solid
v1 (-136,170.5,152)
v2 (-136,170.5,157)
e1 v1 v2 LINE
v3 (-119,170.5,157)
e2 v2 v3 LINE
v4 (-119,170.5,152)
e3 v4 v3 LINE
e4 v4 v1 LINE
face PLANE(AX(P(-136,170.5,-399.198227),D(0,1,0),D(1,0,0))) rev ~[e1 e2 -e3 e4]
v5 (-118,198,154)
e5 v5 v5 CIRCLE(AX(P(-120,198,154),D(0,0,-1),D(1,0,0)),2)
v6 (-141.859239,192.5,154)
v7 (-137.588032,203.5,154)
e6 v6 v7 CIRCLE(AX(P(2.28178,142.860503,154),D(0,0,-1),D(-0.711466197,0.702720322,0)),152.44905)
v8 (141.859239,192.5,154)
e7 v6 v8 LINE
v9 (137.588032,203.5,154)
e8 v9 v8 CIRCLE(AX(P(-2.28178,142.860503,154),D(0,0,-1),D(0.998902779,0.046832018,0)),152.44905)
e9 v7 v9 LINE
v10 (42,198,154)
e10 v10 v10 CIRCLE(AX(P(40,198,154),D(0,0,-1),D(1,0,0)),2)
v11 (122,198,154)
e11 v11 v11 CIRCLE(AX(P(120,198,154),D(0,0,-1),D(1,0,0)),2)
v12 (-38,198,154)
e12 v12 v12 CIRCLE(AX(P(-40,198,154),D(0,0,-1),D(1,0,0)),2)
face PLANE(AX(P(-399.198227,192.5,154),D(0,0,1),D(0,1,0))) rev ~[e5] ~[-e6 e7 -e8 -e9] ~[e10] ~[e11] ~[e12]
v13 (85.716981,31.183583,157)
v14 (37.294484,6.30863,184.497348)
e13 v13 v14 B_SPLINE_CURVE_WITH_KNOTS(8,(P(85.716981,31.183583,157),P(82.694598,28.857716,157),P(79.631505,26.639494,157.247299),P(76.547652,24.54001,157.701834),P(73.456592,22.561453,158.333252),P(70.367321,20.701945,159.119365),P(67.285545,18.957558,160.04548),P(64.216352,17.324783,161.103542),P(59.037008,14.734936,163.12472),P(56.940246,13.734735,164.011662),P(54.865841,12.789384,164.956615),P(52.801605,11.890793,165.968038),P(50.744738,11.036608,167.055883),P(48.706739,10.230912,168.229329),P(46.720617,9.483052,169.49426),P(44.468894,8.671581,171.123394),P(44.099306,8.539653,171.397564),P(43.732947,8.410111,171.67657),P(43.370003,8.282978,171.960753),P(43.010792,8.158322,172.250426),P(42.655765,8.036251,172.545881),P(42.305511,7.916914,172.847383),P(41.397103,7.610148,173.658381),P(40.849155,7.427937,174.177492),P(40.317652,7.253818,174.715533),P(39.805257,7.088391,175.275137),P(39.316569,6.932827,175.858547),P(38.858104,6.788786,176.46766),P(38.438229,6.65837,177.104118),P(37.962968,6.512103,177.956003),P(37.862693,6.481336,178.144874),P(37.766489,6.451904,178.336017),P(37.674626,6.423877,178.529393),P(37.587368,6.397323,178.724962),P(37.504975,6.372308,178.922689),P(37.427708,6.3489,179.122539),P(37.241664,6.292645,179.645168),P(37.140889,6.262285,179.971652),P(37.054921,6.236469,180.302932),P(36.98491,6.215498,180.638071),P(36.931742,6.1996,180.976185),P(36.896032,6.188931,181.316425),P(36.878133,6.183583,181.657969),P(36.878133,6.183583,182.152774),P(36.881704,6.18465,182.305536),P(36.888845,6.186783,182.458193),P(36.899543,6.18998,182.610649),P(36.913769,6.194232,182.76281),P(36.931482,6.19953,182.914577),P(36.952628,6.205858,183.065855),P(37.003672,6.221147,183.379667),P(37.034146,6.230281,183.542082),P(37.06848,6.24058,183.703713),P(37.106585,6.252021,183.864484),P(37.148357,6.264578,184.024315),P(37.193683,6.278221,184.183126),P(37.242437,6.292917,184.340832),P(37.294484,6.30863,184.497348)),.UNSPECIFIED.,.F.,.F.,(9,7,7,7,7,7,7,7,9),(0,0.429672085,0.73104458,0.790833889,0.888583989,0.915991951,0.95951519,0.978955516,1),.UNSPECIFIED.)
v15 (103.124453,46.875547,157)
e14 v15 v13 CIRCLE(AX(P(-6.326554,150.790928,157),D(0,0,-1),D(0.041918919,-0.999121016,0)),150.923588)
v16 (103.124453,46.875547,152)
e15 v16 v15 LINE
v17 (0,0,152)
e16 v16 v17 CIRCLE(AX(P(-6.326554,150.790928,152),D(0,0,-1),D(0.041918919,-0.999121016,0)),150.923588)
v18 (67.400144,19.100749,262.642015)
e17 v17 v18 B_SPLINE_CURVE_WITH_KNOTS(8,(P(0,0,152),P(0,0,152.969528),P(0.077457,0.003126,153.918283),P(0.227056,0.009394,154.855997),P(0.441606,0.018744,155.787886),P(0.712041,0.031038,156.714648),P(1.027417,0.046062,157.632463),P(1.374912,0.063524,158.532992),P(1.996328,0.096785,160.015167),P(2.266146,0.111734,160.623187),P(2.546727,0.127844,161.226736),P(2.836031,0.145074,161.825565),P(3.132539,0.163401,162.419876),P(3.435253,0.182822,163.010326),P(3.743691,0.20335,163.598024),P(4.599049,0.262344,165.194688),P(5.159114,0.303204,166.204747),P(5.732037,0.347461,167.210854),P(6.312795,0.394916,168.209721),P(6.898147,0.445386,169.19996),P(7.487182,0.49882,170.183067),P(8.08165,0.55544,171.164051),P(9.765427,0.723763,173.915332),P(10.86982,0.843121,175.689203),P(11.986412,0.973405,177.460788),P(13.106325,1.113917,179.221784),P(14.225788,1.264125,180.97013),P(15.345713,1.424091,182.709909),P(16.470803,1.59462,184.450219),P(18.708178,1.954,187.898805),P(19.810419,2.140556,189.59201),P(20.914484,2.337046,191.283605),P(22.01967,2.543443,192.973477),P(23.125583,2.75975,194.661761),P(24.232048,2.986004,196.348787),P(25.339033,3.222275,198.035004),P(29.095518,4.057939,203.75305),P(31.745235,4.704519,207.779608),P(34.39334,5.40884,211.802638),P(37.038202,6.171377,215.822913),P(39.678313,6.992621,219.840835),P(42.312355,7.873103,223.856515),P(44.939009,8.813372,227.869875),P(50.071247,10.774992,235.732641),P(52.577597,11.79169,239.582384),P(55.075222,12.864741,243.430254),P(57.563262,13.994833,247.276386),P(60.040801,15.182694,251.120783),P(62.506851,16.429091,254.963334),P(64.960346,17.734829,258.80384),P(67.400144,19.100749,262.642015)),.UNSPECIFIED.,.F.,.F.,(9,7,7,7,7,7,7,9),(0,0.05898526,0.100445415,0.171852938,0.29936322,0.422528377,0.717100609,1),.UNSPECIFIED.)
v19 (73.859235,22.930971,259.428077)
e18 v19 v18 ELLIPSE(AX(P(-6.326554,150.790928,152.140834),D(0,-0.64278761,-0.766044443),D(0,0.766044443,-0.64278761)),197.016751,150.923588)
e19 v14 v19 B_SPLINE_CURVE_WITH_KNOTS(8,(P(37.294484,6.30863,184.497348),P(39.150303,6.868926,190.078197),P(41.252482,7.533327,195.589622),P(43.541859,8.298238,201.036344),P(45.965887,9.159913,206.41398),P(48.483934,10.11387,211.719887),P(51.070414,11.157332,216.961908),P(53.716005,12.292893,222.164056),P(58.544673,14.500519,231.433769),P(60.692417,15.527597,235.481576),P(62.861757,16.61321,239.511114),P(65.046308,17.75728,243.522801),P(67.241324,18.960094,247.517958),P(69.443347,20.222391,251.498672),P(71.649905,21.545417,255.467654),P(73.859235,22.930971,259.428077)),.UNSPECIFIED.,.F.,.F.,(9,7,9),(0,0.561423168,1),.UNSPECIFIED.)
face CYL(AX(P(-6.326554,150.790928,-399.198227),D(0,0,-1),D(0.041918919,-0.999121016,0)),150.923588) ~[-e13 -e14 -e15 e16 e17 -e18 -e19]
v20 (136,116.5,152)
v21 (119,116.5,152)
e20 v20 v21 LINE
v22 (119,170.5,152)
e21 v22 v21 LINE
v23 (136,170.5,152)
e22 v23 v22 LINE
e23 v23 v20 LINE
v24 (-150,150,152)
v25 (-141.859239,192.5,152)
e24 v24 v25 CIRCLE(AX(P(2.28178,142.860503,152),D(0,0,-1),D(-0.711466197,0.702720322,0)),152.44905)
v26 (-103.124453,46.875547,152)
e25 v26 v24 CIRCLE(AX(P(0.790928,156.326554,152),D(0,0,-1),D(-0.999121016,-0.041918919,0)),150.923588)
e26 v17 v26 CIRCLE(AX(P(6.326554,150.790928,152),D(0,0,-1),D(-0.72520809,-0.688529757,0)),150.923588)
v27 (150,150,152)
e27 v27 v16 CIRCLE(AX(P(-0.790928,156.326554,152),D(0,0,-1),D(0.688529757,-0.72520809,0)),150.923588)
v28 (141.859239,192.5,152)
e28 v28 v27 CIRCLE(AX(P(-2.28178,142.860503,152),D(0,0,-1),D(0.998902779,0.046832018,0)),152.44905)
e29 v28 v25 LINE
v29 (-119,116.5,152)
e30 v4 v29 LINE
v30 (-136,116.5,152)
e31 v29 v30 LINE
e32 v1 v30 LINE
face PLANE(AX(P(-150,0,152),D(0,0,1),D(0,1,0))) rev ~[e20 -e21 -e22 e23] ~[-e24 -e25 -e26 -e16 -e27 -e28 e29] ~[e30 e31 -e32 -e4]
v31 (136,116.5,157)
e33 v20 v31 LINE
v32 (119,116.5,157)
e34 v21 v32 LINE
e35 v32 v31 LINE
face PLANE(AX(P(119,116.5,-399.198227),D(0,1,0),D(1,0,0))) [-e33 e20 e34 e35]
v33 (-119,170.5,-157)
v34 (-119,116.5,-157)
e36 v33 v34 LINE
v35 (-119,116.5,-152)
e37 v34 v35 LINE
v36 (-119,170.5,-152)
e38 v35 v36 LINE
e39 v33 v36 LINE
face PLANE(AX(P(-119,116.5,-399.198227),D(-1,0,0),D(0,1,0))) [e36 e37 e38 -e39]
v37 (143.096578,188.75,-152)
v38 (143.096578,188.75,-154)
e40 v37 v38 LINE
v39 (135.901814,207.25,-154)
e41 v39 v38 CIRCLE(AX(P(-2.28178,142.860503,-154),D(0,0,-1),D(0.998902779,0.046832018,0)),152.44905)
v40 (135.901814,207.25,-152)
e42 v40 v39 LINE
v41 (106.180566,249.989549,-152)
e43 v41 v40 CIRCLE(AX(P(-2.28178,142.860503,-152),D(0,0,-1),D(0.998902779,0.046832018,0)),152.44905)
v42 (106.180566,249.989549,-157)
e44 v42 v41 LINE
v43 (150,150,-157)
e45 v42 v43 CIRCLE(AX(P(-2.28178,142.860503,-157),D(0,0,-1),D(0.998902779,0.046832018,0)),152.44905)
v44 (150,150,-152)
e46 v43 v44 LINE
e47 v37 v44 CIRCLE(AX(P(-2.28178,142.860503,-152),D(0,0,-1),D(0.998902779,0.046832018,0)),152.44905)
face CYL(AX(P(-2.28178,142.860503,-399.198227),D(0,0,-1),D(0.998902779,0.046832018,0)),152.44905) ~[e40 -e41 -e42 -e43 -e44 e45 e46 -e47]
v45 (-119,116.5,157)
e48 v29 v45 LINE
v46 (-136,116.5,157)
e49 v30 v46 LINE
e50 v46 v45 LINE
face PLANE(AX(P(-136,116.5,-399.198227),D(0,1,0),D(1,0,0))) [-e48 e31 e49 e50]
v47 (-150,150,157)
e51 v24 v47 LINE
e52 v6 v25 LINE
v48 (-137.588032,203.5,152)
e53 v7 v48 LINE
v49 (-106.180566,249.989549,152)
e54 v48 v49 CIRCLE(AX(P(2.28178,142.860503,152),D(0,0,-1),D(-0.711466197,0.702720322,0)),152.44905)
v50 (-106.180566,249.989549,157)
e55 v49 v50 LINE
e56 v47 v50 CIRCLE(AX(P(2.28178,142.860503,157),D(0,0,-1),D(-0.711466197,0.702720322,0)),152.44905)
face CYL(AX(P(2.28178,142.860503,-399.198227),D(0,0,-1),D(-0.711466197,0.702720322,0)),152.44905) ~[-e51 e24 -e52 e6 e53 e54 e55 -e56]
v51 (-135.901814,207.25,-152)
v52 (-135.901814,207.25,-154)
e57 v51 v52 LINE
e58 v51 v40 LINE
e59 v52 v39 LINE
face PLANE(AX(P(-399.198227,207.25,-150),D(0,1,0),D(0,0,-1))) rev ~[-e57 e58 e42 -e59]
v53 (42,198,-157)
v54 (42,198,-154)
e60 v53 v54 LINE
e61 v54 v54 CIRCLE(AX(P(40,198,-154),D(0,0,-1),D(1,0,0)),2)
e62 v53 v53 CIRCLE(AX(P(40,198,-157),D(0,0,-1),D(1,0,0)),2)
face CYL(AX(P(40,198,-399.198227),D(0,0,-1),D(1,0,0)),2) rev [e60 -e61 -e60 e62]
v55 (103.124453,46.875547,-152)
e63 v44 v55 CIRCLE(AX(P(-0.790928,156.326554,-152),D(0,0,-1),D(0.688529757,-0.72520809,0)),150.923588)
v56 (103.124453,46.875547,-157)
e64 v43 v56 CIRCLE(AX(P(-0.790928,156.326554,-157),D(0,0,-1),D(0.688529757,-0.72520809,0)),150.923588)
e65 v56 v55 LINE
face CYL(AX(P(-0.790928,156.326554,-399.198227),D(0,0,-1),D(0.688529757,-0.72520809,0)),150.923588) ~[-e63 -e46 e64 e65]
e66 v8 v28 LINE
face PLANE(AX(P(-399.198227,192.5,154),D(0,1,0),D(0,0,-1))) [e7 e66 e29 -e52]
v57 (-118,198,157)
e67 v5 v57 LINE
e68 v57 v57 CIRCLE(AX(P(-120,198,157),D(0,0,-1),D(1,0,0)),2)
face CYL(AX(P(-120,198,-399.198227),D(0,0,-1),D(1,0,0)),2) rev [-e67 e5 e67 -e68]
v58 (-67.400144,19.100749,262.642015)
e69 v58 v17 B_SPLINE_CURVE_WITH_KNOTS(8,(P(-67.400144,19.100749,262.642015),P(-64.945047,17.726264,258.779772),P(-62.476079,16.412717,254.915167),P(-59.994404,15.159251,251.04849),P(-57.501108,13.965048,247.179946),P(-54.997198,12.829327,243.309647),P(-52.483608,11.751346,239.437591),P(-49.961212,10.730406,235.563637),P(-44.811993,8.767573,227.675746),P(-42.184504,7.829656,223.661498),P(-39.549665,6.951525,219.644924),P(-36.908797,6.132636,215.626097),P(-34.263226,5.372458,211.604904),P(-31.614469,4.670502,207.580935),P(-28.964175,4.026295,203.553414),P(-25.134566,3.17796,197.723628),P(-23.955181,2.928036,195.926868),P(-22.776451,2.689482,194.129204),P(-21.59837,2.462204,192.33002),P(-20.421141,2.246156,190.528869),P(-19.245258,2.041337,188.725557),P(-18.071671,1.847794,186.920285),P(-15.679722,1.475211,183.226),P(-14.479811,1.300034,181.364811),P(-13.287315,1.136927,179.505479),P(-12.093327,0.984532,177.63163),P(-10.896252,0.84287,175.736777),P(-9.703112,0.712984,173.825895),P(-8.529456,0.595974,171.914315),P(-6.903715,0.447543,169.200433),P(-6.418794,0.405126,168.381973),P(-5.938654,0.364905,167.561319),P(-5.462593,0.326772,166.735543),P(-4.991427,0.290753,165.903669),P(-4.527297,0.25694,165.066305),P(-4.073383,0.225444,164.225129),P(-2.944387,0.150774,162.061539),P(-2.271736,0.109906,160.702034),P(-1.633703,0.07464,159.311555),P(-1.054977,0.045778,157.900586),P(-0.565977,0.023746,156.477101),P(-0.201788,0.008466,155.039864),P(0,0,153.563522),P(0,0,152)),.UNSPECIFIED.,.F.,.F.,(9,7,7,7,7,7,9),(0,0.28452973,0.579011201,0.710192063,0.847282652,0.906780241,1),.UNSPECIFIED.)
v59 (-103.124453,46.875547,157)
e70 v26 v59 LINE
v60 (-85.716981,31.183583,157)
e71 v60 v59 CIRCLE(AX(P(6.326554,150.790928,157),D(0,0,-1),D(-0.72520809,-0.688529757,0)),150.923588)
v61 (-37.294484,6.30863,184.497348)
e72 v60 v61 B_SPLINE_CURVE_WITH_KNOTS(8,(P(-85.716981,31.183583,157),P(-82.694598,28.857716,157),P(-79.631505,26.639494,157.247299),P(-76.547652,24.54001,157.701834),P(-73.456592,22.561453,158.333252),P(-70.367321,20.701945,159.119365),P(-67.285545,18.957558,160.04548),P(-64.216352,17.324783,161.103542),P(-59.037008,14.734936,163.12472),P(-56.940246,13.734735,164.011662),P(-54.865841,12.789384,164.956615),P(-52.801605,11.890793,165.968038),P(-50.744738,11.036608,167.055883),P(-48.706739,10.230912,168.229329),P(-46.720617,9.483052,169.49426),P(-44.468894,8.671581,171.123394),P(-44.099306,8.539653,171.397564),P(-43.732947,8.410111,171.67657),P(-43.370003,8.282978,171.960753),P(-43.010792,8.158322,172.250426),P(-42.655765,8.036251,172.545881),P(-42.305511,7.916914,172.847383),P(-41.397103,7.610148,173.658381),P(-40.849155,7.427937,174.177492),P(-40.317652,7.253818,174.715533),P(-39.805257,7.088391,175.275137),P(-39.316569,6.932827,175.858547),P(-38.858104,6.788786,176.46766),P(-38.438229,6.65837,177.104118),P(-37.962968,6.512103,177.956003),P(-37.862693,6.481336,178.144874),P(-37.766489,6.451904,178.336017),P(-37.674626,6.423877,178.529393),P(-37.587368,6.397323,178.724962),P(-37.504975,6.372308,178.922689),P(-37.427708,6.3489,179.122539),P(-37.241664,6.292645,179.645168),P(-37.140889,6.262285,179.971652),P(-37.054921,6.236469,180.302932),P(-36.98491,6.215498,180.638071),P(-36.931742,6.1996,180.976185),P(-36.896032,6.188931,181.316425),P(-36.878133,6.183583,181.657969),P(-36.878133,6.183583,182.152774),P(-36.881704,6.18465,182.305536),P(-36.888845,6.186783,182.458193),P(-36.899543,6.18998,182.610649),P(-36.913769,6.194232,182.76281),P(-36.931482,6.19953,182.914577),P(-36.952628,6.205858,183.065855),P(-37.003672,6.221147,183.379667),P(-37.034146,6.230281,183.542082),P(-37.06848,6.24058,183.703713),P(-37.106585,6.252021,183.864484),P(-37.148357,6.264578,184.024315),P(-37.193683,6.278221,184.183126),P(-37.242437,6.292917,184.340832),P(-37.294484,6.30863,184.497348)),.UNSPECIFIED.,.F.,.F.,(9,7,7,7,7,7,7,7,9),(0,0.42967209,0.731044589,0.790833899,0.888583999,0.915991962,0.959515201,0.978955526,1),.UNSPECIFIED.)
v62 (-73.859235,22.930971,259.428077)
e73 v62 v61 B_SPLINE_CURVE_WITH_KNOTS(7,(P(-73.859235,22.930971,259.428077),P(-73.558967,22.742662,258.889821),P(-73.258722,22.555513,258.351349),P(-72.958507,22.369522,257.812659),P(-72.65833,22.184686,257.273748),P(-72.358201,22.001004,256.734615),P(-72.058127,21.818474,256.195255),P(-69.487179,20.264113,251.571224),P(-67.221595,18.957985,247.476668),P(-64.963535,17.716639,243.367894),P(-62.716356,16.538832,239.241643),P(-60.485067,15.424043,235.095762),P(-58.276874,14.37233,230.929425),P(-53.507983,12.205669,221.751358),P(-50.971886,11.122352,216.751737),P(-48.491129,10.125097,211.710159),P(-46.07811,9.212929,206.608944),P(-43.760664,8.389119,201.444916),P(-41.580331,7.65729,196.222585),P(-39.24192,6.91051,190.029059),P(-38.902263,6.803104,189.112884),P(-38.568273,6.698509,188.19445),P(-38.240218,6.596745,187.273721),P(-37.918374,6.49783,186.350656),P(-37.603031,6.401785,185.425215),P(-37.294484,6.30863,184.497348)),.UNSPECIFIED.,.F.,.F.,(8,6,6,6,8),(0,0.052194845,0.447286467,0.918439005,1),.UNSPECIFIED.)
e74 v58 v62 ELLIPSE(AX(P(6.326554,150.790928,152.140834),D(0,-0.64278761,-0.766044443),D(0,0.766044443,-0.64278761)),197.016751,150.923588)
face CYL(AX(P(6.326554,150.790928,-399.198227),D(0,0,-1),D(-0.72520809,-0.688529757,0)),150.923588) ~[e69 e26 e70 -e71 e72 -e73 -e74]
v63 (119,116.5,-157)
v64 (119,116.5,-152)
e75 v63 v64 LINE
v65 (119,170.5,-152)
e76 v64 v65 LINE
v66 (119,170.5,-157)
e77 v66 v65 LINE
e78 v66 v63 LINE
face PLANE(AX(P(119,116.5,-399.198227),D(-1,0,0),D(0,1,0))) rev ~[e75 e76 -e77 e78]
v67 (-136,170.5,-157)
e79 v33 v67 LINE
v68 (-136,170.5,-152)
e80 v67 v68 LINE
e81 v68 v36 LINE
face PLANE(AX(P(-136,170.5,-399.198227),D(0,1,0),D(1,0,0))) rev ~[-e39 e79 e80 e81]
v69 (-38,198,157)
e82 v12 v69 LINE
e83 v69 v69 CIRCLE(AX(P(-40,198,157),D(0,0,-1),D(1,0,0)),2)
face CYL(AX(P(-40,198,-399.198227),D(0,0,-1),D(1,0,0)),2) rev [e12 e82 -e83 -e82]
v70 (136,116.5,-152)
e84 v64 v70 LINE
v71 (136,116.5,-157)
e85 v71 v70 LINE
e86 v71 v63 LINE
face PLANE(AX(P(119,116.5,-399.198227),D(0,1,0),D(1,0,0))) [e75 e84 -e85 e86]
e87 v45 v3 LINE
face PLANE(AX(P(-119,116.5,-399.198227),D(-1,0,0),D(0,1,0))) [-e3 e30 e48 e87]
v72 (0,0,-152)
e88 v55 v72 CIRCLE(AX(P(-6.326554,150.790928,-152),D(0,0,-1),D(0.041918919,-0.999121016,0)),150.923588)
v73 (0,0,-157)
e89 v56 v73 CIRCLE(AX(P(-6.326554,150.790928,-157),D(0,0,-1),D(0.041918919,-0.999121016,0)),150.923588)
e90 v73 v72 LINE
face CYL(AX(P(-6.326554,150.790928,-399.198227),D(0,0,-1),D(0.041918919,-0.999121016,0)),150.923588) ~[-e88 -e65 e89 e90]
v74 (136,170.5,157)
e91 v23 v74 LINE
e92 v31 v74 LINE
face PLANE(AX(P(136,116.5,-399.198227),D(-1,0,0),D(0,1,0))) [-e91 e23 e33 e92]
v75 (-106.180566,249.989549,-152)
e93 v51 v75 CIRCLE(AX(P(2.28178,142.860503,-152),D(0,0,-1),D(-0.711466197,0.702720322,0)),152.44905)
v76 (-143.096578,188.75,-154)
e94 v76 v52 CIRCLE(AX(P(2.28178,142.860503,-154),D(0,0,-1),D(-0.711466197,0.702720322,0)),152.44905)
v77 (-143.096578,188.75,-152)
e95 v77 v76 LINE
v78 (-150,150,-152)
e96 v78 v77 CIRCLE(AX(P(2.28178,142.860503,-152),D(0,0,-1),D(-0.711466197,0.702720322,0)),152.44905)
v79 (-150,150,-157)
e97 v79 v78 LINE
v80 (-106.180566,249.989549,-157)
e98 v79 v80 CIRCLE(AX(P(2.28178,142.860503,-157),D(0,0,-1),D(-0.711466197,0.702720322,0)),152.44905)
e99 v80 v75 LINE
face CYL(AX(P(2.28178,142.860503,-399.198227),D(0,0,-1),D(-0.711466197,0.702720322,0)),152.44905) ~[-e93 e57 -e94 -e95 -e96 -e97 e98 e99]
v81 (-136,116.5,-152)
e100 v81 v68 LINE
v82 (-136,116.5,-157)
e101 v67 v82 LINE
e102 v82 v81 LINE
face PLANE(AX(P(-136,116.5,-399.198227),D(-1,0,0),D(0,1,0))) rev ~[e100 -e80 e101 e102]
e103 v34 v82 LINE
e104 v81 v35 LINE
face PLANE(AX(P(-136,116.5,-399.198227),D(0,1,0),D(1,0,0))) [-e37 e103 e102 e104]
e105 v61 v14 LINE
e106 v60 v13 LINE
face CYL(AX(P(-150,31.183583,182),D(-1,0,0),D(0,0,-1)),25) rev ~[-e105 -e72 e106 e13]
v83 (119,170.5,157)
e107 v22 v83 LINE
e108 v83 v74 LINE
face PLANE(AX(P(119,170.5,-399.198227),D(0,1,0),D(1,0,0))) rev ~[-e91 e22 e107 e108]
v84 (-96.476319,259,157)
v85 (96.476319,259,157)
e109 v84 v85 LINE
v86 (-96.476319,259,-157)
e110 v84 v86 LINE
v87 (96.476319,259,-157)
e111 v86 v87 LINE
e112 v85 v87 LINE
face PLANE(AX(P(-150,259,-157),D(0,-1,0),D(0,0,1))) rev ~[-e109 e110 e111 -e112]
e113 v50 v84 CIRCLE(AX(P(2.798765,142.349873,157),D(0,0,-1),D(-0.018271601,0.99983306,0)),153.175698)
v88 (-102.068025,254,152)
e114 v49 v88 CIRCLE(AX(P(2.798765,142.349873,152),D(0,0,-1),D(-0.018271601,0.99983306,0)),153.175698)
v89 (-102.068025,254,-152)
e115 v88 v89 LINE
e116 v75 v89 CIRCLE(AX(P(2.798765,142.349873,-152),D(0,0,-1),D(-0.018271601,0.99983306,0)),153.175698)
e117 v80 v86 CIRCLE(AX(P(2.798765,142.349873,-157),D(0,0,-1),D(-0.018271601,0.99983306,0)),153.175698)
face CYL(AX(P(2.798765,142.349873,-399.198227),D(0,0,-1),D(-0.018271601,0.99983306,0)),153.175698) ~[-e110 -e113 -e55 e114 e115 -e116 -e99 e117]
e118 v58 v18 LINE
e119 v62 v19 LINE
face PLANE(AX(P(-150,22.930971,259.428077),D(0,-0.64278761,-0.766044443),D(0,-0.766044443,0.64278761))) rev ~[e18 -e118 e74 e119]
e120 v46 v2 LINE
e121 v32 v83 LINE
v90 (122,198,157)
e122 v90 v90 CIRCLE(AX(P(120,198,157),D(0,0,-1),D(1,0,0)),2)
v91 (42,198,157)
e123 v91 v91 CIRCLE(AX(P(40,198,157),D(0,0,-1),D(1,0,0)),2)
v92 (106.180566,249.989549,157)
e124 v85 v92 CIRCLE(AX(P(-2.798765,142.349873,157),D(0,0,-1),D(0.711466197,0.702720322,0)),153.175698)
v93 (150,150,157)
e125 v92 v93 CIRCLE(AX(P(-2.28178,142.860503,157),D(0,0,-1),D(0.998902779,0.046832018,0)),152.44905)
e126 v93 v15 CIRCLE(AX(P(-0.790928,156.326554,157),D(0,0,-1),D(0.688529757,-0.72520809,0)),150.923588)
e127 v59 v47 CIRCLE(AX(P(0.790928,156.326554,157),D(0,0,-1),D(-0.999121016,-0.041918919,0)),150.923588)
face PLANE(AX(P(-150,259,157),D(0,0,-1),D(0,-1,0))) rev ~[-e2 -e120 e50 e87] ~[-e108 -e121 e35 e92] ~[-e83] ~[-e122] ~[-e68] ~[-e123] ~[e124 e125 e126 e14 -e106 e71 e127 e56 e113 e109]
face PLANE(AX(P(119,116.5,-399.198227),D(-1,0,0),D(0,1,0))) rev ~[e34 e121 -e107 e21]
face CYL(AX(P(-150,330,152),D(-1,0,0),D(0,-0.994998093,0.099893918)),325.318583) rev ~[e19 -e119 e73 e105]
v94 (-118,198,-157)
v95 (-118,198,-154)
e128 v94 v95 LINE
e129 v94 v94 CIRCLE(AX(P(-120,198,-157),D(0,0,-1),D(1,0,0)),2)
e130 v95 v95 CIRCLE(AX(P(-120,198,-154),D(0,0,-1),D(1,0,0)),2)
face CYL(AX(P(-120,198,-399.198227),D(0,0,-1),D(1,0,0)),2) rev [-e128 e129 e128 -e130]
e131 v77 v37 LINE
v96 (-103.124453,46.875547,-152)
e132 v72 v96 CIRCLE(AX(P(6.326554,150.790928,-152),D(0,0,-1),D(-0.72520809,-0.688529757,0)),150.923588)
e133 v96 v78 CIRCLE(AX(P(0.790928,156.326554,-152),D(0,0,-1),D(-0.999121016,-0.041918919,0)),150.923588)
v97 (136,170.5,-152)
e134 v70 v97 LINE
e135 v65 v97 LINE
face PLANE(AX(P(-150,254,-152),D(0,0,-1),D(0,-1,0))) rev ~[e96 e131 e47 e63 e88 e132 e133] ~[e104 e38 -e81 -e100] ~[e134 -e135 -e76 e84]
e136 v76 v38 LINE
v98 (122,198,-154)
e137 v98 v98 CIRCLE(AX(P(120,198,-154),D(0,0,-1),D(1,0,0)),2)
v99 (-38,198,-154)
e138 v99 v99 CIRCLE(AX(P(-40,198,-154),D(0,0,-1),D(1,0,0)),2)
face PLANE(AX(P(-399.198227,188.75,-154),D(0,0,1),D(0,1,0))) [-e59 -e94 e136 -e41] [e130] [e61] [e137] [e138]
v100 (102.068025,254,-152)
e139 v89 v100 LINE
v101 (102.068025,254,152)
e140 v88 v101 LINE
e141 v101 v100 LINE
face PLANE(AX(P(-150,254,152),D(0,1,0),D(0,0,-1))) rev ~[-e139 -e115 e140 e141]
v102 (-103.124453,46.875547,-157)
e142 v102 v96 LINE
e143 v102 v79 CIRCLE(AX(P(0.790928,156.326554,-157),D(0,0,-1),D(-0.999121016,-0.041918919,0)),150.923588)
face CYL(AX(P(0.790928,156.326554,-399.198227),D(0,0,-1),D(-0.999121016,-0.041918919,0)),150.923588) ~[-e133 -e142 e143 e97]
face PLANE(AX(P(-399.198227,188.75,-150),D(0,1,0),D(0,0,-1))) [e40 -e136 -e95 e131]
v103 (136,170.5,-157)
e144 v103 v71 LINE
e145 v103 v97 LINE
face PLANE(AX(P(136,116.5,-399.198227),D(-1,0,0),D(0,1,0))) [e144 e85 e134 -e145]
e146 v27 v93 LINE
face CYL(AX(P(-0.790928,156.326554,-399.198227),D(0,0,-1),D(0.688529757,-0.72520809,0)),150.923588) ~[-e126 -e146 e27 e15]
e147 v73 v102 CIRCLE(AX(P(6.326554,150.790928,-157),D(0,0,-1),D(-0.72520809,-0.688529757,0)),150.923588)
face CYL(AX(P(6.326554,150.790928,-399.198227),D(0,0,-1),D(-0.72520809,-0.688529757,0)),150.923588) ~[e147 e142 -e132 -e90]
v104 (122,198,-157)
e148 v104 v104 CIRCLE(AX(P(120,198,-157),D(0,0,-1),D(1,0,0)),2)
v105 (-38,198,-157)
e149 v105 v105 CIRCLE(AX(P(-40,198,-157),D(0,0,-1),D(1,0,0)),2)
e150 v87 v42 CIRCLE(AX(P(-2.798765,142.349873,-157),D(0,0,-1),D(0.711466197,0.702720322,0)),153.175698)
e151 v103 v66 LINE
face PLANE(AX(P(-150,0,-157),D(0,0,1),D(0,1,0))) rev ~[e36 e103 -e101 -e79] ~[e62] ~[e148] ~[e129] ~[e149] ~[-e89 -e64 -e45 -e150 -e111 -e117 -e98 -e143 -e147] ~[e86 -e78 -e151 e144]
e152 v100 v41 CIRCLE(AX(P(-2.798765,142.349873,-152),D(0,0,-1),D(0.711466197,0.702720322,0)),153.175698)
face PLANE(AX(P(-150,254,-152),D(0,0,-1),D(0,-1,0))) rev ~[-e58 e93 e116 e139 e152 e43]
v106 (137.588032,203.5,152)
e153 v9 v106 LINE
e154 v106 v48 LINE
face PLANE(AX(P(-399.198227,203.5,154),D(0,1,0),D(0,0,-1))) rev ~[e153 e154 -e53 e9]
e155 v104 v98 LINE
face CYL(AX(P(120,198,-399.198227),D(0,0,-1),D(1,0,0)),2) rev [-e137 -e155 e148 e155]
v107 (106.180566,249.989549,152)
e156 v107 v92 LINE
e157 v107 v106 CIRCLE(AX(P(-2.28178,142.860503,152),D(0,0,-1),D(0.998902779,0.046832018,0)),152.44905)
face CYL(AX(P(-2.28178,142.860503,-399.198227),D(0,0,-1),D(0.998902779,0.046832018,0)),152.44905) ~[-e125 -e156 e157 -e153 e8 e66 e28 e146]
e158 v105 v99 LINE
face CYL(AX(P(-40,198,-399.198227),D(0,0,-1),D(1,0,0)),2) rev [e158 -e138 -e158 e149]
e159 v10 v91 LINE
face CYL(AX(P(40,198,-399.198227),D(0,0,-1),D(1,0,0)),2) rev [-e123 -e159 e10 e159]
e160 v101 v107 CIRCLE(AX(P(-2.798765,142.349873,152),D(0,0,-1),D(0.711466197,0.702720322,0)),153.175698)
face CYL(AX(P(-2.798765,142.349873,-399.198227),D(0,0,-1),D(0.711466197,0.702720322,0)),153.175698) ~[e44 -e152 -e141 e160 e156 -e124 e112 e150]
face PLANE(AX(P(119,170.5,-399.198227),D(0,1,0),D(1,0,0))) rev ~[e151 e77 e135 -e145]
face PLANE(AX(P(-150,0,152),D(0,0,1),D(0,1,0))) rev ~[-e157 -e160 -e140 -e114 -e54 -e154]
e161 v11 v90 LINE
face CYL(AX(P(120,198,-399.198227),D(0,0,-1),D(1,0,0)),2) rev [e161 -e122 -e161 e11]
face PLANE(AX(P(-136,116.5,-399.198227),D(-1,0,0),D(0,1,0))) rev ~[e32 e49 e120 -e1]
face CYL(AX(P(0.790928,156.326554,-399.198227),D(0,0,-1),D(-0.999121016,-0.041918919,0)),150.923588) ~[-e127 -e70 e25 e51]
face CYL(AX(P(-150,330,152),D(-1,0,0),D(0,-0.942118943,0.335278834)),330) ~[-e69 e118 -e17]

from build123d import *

# Parameters (mm, degrees)
BOSS_EXTRUDE1_DEPTH      = 150
BOSS_EXTRUDE1_DEPTH_BACK = 150
CUT_EXTRUDE1_DEPTH       = 399.19822728
CUT_EXTRUDE1_DEPTH_BACK  = 399.19822728
SKETCH2_OUTSIDE_W        = 417.444
SKETCH2_OUTSIDE_H        = 376.444
CUT_EXTRUDE2_DEPTH       = 399.198227346
CUT_EXTRUDE2_DEPTH_BACK  = 399.198227346
SKETCH3_W                = 4
SKETCH3_H                = 11
SKETCH3_H_2              = 18.5
CUT_EXTRUDE3_DEPTH       = 399.198227346
CUT_EXTRUDE3_DEPTH_BACK  = 399.198227346
SKETCH4_R                = 2
CUT_EXTRUDE4_DEPTH       = 399.198227346
CUT_EXTRUDE4_DEPTH_BACK  = 399.198227346
SKETCH6_W                = 17
SKETCH6_H                = 54


with BuildPart() as part:
    # Sketch1 → Boss-Extrude1 (new, two sides: drawn at the far end of the back side and taken through both)
    with BuildSketch(Plane(origin=(0, 0, 0), x_dir=(0, 0, -1), z_dir=(1, 0, 0)).offset(-BOSS_EXTRUDE1_DEPTH_BACK)):
        with BuildLine():
            Line((-152, 0), (-152, 254))
            Line((-152, 254), (152, 254))
            Line((152, 254), (152, 0))
            Line((152, 0), (157, 0))
            Line((157, 0), (157, 259))
            Line((157, 259), (-157, 259))
            Line((-157, 259), (-157, 31.183582697))
            ThreePointArc((-157, 31.183582697), (-165.22850184, 12.643980503), (-184.497347959, 6.308630372))
            ThreePointArc((-184.497347959, 6.308630372), (-222.45464291, 12.402261203), (-259.428077267, 22.930970935))
            Line((-259.428077267, 22.930970935), (-262.642015315, 19.100748719))
            ThreePointArc((-262.642015315, 19.100748719), (-208.13932257, 4.810245455), (-152, 0))
        make_face()
    extrude(amount=BOSS_EXTRUDE1_DEPTH + BOSS_EXTRUDE1_DEPTH_BACK)

    # Sketch2 outside → Cut-Extrude1 (cut, two sides: drawn at the far end of the back side and taken through both)
    with BuildSketch(Plane.XY.offset(-CUT_EXTRUDE1_DEPTH_BACK)):
        with Locations((0, 129.5)):
            Rectangle(SKETCH2_OUTSIDE_W, SKETCH2_OUTSIDE_H)
        with BuildLine():
            ThreePointArc((-106.180566109, 249.989548857), (-57.545132629, 283.138396945), (0, 295.5))
            ThreePointArc((0, 295.5), (57.545132629, 283.138396945), (106.180566109, 249.989548857))
            ThreePointArc((106.180566109, 249.989548857), (137.347558964, 204.051684319), (150, 150))
            ThreePointArc((150, 150), (136.604447301, 93.873050207), (103.124452968, 46.875547032))
            ThreePointArc((103.124452968, 46.875547032), (56.126949793, 13.395552699), (0, 0))
            ThreePointArc((0, 0), (-56.126949793, 13.395552699), (-103.124452968, 46.875547032))
            ThreePointArc((-103.124452968, 46.875547032), (-136.604447301, 93.873050207), (-150, 150))
            ThreePointArc((-150, 150), (-137.347558964, 204.051684319), (-106.180566109, 249.989548857))
        make_face(mode=Mode.SUBTRACT)
    extrude(amount=CUT_EXTRUDE1_DEPTH + CUT_EXTRUDE1_DEPTH_BACK, mode=Mode.SUBTRACT)

    # Sketch3 → Cut-Extrude2 (cut, two sides: drawn at the far end of the back side and taken through both)
    with BuildSketch(Plane(origin=(0, 0, 0), x_dir=(0, 0, -1), z_dir=(1, 0, 0)).offset(-CUT_EXTRUDE2_DEPTH_BACK)):
        with Locations((-152, 198)):
            Rectangle(SKETCH3_W, SKETCH3_H)
        with Locations((152, 198)):
            Rectangle(SKETCH3_W, SKETCH3_H_2)
    extrude(amount=CUT_EXTRUDE2_DEPTH + CUT_EXTRUDE2_DEPTH_BACK, mode=Mode.SUBTRACT)

    # Sketch4 → Cut-Extrude3 (cut, two sides: drawn at the far end of the back side and taken through both)
    with BuildSketch(Plane.XY.offset(-CUT_EXTRUDE3_DEPTH_BACK)):
        with Locations((-120, 198)):
            Circle(SKETCH4_R)
        with Locations((120, 198)):
            Circle(SKETCH4_R)
        with Locations((40, 198)):
            Circle(SKETCH4_R)
        with Locations((-40, 198)):
            Circle(SKETCH4_R)
    extrude(amount=CUT_EXTRUDE3_DEPTH + CUT_EXTRUDE3_DEPTH_BACK, mode=Mode.SUBTRACT)

    # Sketch6 → Cut-Extrude4 (cut, two sides: drawn at the far end of the back side and taken through both)
    with BuildSketch(Plane.XY.offset(-CUT_EXTRUDE4_DEPTH_BACK)):
        with Locations((-127.5, 143.5)):
            Rectangle(SKETCH6_W, SKETCH6_H)
        with Locations((127.5, 143.5)):
            Rectangle(SKETCH6_W, SKETCH6_H)
    extrude(amount=CUT_EXTRUDE4_DEPTH + CUT_EXTRUDE4_DEPTH_BACK, mode=Mode.SUBTRACT)


solid = part.part
